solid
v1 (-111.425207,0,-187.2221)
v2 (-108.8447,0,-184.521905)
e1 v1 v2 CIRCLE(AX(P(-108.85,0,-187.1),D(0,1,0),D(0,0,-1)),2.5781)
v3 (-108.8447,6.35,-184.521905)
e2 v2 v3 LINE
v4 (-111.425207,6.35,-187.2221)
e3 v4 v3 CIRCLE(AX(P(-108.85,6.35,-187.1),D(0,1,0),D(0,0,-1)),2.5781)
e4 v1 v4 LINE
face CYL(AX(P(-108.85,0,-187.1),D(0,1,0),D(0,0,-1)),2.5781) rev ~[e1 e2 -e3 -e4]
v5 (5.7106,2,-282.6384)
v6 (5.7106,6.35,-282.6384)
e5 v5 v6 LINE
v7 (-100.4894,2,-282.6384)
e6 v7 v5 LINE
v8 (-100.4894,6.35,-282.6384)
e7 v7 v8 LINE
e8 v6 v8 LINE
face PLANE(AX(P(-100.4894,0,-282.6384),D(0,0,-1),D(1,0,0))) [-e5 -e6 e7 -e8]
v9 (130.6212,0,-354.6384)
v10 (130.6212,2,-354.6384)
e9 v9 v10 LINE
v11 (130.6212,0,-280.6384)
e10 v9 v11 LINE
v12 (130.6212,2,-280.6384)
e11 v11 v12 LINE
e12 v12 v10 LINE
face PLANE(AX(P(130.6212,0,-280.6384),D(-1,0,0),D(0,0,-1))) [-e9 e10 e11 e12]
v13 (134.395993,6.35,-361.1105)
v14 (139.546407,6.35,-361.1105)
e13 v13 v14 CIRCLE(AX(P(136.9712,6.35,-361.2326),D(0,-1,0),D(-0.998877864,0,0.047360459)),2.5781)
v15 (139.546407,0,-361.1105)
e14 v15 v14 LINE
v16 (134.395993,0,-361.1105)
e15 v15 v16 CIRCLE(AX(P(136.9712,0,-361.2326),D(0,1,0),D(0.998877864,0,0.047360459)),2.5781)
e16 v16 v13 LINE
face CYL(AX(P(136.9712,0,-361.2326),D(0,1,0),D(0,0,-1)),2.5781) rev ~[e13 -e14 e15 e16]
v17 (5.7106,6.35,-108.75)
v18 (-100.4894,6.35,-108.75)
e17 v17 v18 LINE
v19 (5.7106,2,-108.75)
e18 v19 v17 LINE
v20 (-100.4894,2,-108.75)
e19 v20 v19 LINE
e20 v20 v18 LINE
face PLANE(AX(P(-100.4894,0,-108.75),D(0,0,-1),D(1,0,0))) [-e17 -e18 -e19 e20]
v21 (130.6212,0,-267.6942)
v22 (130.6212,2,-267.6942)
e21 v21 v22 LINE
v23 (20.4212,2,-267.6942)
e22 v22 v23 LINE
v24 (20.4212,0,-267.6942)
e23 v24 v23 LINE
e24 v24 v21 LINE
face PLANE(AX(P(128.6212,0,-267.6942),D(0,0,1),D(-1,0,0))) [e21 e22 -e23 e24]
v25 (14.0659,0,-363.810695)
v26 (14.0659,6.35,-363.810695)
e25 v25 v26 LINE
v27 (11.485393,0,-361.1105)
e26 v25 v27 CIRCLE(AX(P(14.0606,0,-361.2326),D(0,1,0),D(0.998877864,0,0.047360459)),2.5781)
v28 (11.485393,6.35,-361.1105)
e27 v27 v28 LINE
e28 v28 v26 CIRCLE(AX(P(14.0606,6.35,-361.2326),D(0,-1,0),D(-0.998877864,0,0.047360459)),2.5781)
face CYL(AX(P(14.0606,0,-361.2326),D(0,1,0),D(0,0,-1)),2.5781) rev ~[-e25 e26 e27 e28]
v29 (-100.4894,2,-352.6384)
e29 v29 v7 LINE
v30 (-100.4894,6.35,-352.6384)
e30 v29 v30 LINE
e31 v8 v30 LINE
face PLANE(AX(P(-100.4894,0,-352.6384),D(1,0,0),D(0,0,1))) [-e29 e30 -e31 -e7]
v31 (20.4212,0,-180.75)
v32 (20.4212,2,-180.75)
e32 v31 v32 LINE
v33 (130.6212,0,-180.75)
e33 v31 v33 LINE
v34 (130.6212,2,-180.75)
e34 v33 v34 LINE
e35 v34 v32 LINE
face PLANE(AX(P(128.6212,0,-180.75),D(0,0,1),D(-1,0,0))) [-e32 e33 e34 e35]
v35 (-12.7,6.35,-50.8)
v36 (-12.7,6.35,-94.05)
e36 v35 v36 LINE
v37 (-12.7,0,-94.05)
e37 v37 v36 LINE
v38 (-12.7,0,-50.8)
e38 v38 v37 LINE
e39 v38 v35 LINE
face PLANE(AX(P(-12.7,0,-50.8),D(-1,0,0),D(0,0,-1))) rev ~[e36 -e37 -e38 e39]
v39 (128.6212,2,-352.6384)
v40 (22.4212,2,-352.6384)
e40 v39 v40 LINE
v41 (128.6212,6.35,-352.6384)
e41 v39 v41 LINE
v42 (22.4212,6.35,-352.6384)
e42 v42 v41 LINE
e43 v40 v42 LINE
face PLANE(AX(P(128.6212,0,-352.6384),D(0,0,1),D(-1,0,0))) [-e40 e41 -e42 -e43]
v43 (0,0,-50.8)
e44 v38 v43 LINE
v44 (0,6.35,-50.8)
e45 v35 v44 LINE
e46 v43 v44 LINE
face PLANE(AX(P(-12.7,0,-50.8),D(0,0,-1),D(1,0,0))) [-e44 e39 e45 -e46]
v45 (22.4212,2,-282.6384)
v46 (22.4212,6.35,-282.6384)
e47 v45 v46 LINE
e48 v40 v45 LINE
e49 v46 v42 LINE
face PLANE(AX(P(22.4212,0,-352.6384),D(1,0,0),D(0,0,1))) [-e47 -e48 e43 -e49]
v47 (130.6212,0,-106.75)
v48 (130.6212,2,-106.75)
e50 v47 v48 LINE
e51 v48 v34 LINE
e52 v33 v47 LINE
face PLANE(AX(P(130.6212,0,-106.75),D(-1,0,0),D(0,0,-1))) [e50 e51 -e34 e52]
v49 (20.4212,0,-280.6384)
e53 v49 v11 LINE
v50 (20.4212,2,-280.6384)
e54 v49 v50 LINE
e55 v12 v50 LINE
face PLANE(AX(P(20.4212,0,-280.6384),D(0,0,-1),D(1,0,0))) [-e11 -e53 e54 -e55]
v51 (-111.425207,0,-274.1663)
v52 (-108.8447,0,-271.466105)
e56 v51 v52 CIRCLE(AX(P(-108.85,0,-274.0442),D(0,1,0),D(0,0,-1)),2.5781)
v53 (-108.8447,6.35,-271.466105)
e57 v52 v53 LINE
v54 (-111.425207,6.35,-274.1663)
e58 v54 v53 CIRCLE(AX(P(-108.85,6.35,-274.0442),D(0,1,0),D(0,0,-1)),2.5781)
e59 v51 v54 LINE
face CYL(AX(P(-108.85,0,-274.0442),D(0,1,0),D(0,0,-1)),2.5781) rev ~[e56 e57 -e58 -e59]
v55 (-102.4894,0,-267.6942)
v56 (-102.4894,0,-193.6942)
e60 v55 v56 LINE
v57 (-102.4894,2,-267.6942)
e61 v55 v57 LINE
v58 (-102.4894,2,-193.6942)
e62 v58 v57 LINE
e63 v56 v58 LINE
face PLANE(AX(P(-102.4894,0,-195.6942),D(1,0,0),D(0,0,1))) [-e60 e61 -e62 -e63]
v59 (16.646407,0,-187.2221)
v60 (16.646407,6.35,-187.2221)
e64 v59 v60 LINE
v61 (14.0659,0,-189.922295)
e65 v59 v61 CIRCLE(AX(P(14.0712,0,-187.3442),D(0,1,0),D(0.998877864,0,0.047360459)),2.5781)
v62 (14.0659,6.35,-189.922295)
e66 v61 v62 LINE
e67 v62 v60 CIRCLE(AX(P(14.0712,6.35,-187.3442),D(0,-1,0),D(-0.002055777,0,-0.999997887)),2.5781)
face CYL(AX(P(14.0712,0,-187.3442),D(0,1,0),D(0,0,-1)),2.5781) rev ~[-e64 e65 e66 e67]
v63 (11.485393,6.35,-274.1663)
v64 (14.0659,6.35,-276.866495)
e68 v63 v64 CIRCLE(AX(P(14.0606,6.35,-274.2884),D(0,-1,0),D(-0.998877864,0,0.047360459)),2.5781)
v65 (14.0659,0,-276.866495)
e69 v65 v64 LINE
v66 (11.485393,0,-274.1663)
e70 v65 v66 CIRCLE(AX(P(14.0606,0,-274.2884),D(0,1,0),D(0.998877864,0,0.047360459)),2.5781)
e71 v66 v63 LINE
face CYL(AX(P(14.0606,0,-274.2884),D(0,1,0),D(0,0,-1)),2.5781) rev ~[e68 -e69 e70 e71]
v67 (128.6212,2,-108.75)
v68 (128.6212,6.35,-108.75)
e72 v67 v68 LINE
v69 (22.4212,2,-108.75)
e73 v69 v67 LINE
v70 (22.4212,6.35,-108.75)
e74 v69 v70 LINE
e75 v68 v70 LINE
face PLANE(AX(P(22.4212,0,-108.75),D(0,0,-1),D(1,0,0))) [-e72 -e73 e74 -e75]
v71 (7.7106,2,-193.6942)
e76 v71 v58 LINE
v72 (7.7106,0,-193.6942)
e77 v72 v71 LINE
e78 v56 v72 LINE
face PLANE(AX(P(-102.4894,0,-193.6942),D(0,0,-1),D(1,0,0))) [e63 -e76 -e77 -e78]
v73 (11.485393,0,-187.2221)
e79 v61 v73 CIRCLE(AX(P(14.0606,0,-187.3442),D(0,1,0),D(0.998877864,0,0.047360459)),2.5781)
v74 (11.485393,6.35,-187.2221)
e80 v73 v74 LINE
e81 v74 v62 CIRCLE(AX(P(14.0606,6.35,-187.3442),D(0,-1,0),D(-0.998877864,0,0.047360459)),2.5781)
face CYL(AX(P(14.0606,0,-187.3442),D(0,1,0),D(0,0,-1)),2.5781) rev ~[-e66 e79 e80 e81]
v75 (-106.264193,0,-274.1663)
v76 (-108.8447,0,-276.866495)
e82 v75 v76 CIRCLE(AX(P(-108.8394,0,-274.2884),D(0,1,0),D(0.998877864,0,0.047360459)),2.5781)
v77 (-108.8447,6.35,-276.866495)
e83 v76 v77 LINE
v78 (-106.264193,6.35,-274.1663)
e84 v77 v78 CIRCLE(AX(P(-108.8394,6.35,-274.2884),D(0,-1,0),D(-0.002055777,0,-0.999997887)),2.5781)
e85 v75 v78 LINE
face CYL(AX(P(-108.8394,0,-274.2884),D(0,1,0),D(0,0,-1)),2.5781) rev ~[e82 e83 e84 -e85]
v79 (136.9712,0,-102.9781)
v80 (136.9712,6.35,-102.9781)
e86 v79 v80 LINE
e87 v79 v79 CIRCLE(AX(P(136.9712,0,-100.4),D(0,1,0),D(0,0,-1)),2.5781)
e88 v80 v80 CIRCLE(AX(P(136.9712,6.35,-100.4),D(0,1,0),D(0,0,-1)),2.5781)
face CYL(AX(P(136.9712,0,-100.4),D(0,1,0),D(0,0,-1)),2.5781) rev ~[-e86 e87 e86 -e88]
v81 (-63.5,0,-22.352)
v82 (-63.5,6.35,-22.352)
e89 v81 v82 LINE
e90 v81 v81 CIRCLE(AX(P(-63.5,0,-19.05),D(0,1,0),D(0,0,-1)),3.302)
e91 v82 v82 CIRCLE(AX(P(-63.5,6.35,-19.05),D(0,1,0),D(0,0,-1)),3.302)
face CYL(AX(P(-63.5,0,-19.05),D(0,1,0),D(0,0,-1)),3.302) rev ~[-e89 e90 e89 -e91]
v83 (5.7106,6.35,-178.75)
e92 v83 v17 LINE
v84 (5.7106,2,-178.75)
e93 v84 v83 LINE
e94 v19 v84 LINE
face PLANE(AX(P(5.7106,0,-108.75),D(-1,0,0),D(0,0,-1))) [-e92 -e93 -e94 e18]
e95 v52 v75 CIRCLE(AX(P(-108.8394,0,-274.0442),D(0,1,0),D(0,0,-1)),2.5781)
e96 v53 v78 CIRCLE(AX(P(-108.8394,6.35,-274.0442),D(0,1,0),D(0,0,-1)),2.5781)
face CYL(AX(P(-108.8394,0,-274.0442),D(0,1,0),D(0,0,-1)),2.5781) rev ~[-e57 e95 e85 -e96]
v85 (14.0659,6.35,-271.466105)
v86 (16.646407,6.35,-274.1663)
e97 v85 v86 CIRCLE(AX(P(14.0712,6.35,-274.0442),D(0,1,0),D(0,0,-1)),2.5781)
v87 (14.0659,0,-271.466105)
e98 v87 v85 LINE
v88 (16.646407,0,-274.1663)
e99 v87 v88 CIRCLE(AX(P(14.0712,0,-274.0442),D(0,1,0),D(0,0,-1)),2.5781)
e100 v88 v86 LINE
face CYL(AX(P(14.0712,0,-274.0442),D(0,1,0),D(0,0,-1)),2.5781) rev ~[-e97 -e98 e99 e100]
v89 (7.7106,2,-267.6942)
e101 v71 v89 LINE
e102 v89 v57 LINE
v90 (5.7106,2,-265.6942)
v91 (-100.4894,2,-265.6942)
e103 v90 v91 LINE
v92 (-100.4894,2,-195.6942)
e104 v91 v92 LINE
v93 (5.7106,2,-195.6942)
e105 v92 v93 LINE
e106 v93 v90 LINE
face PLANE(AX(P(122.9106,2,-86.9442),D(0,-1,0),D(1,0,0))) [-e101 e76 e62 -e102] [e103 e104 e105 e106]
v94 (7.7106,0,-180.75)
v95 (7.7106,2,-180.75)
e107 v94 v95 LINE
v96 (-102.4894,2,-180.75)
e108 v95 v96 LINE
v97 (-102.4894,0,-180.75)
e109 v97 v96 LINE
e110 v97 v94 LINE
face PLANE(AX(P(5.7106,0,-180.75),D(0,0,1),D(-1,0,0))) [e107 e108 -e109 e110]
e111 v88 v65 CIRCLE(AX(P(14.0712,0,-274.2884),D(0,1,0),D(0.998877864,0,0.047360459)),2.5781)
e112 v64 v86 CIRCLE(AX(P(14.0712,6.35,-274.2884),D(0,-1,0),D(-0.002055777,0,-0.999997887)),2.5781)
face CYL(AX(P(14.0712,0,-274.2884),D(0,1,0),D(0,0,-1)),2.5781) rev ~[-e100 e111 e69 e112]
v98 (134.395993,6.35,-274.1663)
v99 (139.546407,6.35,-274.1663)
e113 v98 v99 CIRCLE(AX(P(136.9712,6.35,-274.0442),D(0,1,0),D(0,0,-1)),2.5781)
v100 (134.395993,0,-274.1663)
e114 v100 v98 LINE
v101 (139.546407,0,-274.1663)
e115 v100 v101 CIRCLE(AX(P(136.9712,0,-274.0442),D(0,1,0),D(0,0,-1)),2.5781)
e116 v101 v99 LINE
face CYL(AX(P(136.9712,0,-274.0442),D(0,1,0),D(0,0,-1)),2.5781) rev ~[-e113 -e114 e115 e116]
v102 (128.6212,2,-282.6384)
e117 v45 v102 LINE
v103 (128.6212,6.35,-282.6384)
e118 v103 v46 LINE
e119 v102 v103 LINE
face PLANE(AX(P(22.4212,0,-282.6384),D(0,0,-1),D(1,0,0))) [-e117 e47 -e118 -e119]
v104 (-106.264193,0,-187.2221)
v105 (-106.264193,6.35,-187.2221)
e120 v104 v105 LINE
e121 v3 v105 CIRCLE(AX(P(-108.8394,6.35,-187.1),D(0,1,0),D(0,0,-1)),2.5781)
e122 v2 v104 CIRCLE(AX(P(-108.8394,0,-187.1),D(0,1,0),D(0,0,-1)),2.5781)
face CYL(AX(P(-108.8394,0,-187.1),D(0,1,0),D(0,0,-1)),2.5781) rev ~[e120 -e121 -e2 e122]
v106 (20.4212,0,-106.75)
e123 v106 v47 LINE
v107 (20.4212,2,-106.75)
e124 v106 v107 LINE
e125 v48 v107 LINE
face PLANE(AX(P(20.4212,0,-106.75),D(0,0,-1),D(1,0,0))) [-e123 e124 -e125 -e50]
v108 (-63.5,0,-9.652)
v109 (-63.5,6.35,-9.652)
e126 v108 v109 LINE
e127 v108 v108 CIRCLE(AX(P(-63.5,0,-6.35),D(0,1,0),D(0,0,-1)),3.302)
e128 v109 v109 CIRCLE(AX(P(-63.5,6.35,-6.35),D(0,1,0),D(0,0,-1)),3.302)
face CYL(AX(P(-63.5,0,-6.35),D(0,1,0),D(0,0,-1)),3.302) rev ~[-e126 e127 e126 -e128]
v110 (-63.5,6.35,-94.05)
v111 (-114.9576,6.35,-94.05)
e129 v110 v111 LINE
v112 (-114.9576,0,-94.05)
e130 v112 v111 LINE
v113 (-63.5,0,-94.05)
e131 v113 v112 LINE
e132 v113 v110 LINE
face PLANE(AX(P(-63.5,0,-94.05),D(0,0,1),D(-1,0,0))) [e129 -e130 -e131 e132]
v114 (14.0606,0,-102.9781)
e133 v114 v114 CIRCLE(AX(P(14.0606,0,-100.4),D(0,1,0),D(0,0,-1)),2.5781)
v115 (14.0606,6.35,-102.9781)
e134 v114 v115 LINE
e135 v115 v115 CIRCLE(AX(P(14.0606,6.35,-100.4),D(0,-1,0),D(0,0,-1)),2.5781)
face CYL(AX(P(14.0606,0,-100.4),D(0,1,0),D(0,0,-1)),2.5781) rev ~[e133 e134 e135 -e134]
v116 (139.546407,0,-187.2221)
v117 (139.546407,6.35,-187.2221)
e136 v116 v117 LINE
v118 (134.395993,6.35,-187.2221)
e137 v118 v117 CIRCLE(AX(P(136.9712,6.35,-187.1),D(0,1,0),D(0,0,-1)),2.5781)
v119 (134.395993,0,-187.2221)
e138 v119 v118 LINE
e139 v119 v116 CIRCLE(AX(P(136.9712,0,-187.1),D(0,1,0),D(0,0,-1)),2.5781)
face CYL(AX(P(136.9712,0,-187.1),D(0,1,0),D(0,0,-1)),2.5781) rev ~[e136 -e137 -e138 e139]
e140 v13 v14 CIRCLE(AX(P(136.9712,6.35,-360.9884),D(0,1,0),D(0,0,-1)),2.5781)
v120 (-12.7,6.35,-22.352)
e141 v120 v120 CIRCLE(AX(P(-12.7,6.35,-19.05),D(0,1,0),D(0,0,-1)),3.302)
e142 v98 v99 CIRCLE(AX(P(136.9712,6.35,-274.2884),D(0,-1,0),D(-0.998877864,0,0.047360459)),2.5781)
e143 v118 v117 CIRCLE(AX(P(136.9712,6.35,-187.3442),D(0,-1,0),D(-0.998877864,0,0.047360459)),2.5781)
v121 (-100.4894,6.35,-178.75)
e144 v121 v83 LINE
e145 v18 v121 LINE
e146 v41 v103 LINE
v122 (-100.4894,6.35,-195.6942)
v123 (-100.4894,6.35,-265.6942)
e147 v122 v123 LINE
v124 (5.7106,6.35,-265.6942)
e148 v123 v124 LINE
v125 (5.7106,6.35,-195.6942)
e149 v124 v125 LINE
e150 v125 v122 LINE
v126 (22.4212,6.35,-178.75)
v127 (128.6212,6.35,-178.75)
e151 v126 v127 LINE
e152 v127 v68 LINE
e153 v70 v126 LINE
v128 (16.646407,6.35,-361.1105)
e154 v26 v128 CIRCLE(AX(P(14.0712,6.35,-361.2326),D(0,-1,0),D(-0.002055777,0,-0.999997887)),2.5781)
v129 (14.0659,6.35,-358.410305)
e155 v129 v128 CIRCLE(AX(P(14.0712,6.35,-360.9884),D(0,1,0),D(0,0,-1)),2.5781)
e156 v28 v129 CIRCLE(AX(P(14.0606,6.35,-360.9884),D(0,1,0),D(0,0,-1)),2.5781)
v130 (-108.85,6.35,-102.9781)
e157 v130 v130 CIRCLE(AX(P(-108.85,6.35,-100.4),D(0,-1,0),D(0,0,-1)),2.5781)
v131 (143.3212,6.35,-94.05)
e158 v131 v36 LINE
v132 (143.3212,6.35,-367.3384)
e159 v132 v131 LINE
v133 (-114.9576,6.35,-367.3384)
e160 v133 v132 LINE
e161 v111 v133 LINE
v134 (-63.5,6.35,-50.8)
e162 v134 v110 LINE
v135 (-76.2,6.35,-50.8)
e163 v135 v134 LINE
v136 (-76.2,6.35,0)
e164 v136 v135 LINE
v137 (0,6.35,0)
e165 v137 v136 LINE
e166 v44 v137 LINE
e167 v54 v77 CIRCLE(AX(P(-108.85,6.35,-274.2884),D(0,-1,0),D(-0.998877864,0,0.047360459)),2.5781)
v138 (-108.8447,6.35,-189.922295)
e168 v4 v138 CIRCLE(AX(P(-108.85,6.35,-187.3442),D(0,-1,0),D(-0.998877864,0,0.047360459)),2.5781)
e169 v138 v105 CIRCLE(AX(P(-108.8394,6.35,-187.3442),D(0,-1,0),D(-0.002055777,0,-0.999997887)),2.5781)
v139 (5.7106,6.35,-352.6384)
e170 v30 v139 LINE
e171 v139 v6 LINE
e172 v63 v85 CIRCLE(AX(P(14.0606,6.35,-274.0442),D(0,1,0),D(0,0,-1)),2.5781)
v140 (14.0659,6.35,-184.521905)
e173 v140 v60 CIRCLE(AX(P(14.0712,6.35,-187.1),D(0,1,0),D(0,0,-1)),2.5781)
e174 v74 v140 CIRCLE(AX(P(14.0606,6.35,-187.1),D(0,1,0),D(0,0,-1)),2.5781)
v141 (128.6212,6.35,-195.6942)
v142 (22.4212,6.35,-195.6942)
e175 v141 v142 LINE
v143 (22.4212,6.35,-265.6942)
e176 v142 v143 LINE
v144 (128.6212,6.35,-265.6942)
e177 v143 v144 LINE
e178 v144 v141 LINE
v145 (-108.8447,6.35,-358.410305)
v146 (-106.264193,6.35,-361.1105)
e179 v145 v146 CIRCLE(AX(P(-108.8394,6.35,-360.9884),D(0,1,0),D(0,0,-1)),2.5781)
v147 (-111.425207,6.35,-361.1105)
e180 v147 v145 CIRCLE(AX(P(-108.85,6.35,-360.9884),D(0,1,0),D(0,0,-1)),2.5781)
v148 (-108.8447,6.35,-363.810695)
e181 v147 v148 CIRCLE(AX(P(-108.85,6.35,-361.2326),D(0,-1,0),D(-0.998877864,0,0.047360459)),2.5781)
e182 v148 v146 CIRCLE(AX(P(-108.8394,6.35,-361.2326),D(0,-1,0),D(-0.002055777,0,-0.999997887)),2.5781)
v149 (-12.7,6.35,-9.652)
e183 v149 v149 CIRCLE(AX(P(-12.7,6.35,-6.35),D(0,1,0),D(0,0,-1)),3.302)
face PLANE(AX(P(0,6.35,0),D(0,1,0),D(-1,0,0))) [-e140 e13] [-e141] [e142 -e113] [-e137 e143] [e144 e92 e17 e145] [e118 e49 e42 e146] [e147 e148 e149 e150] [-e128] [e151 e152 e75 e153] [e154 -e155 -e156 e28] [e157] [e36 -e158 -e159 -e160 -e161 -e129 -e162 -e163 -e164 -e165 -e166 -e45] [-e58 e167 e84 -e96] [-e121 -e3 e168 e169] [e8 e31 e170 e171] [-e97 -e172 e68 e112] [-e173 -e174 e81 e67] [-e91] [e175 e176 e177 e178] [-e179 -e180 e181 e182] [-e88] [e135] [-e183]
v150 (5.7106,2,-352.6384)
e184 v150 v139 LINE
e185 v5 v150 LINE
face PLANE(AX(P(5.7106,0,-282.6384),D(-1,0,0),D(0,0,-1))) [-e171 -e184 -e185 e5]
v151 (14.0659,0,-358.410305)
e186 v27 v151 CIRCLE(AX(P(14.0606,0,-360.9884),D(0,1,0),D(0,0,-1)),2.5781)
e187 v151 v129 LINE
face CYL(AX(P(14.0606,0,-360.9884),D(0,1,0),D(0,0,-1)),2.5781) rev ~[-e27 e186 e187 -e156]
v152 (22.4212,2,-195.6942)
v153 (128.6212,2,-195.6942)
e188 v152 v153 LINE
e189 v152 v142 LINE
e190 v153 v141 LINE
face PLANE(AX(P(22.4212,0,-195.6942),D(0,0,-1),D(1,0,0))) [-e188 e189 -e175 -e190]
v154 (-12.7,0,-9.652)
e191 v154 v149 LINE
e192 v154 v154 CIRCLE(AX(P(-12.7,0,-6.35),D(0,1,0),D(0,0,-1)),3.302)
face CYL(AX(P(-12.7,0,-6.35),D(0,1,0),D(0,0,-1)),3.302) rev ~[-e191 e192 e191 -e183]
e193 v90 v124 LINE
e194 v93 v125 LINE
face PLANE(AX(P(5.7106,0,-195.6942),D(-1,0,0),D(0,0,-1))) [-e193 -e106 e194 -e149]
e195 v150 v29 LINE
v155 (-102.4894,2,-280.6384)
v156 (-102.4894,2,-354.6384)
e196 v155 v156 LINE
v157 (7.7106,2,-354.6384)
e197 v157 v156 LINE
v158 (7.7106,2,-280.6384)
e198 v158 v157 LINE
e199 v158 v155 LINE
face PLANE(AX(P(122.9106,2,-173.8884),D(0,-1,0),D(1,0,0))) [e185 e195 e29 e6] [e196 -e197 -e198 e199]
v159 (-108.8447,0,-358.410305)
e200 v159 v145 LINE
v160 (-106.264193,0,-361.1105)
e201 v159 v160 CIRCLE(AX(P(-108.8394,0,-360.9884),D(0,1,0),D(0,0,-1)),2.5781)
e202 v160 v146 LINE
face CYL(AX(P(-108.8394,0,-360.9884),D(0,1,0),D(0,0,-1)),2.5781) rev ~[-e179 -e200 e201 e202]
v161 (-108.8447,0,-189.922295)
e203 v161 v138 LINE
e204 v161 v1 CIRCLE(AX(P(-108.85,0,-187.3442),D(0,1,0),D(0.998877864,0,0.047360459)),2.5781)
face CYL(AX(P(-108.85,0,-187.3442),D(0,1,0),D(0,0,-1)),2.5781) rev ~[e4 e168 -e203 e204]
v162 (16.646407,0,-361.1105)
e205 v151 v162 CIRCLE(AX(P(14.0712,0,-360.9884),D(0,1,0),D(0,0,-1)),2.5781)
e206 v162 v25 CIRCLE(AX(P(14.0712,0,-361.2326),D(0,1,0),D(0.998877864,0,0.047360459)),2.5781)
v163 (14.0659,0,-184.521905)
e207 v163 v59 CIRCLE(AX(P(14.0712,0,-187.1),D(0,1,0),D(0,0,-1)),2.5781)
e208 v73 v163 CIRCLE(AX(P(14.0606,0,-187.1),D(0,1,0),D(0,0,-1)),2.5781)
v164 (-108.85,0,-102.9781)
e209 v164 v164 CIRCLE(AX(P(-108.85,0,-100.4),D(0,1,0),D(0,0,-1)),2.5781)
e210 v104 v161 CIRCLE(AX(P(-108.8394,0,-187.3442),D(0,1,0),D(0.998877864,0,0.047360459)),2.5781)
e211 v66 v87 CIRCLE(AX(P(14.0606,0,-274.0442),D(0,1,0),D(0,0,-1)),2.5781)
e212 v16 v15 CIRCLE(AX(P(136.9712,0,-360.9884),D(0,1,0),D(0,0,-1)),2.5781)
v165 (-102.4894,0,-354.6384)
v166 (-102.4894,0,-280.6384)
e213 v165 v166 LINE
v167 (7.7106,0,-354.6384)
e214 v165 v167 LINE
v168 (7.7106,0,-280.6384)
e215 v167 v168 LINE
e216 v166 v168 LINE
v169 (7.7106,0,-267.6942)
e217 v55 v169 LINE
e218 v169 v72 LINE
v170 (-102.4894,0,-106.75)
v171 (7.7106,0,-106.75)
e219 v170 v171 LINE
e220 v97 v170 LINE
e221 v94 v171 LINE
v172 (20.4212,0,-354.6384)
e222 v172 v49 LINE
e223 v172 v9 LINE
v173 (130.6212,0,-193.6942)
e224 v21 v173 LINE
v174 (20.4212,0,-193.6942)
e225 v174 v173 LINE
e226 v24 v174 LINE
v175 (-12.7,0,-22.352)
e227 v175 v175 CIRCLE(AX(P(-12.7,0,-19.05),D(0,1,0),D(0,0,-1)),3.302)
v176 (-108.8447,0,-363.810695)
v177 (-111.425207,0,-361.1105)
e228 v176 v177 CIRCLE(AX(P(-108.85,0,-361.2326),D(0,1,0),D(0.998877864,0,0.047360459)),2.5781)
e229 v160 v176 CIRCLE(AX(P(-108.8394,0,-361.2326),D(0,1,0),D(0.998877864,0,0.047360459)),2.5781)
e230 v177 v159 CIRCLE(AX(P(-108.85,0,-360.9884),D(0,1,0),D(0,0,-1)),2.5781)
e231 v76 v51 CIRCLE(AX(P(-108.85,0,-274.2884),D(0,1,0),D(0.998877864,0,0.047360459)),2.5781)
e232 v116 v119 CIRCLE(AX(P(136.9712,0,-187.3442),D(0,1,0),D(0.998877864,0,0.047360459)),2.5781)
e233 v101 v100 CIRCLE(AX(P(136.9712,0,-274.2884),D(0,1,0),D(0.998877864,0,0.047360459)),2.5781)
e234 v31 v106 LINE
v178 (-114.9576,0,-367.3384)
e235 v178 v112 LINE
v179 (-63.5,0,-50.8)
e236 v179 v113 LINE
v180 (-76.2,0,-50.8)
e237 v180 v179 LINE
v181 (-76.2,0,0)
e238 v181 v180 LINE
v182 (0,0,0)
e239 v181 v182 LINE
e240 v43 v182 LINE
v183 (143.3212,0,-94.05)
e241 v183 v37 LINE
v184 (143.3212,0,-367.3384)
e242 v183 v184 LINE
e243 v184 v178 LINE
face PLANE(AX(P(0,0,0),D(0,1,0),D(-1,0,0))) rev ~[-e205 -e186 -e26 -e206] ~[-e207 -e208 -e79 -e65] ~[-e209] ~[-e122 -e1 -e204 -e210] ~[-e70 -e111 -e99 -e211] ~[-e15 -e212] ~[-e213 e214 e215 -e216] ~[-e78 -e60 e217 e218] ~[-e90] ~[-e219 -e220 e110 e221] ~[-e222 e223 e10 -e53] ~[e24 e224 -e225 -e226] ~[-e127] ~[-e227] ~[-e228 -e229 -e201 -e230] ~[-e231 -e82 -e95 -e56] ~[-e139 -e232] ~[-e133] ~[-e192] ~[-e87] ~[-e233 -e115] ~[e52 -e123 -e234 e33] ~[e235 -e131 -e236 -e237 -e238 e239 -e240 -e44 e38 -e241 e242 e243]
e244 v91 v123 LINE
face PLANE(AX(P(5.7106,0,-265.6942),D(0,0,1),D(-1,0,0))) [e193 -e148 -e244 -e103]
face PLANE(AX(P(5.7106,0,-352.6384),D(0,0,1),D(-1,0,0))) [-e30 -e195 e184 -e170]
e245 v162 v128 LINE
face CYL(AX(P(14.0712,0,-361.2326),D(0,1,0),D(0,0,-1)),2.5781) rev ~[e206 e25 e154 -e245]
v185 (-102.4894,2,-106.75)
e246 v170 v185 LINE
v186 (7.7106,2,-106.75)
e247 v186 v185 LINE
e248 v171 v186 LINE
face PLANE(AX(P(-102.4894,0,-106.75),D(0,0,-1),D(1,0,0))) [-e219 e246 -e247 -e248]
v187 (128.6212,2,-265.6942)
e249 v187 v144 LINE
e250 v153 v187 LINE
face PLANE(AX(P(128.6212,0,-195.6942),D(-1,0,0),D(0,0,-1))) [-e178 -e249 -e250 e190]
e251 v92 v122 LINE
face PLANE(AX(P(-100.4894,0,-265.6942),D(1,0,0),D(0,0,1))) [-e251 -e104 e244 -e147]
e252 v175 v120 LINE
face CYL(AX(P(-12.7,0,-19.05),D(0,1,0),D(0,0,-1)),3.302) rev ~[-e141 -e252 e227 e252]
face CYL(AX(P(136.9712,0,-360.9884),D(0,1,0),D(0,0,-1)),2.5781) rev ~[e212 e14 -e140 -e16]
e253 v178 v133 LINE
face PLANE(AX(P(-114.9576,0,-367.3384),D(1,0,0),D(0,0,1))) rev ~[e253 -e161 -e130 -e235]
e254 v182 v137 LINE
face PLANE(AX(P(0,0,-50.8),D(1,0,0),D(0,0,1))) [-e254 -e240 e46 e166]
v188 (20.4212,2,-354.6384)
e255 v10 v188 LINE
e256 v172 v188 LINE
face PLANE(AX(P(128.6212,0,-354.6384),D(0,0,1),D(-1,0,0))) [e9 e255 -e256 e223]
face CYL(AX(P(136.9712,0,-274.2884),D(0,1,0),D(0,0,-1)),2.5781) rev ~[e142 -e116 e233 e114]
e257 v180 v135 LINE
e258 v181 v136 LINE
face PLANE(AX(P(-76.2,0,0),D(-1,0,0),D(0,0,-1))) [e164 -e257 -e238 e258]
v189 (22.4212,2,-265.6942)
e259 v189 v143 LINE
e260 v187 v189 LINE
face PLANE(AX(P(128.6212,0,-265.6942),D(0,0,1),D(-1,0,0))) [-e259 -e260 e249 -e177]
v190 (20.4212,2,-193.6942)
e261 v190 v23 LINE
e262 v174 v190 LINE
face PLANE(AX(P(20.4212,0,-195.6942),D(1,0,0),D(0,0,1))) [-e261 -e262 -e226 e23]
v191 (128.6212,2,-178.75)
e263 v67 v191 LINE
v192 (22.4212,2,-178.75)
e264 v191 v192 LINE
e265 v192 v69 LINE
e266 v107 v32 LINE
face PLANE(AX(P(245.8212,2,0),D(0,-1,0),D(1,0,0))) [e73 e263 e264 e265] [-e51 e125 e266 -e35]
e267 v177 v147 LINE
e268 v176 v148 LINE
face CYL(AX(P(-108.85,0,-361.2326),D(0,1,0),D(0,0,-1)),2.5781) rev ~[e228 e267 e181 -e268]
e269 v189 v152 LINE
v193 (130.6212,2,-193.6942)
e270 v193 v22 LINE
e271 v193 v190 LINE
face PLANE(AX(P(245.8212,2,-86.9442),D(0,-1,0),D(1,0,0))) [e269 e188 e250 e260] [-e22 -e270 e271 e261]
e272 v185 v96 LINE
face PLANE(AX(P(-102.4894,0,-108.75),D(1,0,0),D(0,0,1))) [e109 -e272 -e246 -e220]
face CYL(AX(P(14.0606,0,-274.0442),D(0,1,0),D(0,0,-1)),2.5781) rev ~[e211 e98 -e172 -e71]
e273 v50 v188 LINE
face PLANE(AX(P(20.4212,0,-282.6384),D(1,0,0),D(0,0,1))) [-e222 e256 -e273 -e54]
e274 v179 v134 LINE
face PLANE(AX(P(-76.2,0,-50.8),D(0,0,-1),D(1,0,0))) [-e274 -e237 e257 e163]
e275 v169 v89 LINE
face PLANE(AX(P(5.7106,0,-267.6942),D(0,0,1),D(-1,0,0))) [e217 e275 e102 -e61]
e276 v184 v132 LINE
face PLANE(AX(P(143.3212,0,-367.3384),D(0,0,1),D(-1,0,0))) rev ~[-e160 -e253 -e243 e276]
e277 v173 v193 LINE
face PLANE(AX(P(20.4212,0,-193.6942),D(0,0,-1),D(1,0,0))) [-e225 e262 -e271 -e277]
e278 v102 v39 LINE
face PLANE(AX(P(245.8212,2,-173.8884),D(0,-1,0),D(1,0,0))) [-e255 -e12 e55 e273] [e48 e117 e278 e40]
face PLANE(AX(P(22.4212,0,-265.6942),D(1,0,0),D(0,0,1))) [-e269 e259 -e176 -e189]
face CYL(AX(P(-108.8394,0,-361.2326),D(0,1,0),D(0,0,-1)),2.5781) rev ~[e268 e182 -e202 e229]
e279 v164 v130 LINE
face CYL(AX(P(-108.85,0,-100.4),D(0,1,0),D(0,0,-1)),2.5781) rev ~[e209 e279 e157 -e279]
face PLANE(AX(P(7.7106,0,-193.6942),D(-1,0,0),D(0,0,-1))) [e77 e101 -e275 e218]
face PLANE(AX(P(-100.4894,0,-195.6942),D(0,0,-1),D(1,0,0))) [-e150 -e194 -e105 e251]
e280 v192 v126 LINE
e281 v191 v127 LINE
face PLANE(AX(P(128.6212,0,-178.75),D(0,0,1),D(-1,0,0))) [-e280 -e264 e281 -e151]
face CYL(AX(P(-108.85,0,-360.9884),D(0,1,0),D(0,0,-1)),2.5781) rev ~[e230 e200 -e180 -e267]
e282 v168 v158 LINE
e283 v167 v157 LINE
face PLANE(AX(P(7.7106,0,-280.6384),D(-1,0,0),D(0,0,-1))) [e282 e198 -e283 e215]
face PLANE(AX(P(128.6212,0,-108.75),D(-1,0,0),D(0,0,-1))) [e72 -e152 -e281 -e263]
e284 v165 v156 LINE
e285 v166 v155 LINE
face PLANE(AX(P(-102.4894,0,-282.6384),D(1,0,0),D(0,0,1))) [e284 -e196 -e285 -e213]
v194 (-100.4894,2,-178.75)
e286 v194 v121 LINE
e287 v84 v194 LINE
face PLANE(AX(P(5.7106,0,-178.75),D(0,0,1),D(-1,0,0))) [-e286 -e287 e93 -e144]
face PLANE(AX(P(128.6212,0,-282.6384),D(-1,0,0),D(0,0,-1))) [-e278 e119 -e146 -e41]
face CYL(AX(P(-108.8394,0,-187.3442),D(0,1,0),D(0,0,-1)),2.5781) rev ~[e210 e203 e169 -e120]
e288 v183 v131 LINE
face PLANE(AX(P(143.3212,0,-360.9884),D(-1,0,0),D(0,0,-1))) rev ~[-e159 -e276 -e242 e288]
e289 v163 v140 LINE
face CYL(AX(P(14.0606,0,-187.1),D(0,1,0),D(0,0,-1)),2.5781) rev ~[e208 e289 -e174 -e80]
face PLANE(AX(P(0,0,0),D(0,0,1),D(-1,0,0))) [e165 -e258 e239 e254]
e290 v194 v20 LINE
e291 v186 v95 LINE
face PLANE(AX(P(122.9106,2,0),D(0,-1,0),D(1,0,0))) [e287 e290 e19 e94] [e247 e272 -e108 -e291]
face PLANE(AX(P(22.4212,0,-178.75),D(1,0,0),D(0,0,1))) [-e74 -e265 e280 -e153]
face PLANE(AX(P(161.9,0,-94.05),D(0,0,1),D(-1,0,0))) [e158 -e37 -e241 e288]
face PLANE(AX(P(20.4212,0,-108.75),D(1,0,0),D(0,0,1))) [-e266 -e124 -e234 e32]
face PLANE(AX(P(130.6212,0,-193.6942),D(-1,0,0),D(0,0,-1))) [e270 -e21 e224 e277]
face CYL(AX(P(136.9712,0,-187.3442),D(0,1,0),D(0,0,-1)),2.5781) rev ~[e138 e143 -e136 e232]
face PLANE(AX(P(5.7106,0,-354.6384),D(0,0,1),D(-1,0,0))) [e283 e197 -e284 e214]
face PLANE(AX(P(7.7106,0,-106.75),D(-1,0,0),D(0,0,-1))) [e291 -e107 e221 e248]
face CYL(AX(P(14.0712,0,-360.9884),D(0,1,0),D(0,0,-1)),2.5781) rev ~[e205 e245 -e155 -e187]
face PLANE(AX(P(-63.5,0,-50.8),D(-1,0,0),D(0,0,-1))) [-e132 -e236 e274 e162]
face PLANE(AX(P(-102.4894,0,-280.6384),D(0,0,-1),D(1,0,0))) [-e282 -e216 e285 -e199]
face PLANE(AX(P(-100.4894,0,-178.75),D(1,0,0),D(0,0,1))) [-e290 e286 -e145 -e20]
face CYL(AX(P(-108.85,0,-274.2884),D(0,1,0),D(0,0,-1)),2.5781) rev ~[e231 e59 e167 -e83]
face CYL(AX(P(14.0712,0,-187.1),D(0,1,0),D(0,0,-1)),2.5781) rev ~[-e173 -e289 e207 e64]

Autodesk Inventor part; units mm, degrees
ref_plane "YZ Plane" through (0, 0, 0) normal (1, 0, 0) x (0, 1, 0)
ref_plane "XZ Plane" through (0, 0, 0) normal (0, 1, 0) x (-1, 0, 0)
ref_plane "XY Plane" through (0, 0, 0) normal (0, 0, 1) x (1, 0, 0)
sketch "Sketch1" plane through (0, 0, 0) normal (0, 1, 0) x (-1, 0, 0)
  line L0 (0, 0) -> (76.2, 0)
  line L1 (76.2, 0) -> (76.2, -50.8)
  line L2 (76.2, -50.8) -> (0, -50.8)
  line L3 (0, -50.8) -> (0, 0)
  line L4 (38.1, 0) -> (38.1, -6.35)
  line L5 (38.1, -6.35) -> (12.7, -6.35)
  line L6 (38.1, -6.35) -> (63.5, -6.35)
  line L7 (38.1, -6.35) -> (63.5, -6.35) construction
  line L8 (63.5, -6.35) -> (63.5, -19.05)
  line L9 (12.7, -6.35) -> (12.7, -19.05)
  line L10 (63.5, -19.05) -> (63.5, -25.4)
  line L11 (12.7, -19.05) -> (12.7, -25.4)
  line L12 (63.5, -19.05) -> (63.5, -94.05)
  line L13 (63.5, -19.05) -> (138.5, -19.05) construction
  line L14 (12.7, -19.05) -> (12.7, -94.05)
  line L15 (63.5, -94.05) -> (38.1, -94.05)
  line L16 (38.1, -94.05) -> (38.1, -294.05)
  line L17 (38.1, -94.05) -> (238.1, -94.05) construction
  line L18 (238.1, -494.05) -> (-161.9, -494.05)
  line L19 (-161.9, -494.05) -> (-161.9, -94.05)
  line L20 (-161.9, -94.05) -> (238.1, -94.05)
  line L21 (238.1, -94.05) -> (238.1, -494.05)
  line L22 (238.1, -494.05) -> (-161.9, -94.05) construction
  line L23 (-161.9, -494.05) -> (238.1, -94.05) construction
  point P0 (63.5, -50.8)
  point P1 (12.7, -50.8)
  dimension "d0" = 76.2
  dimension "d1" = 50.8
  dimension "d2" = 6.35
  dimension "d3" = 25.4
  dimension "d4" = 25.4
  dimension "d5" = 0
  dimension "d6" = 12.7
  dimension "d7" = 12.7
  dimension "d8" = 6.35
  dimension "d9" = 6.35
  dimension "d10" = 75
  dimension "d11" = 90
  dimension "d12" = 75
  dimension "d13" = 25.4
  dimension "d14" = 200
  dimension "d15" = 90
  dimension "d16" = 400
  dimension "d17" = 400
extrude "Extrusion1" add sketch "Sketch1" along normal blind 6.35
hole "Hole1" at (-12.7, 0, -6.35) at (-12.7, 0, -19.05) at (-63.5, 0, -6.35) at (-63.5, 0, -19.05) direction (0, 1, 0) diameter 6.604 end through all
sketch "Sketch2" plane through (0, 0, 0) normal (0, -1, 0) x (1, 0, 0)
  line L0 (-238.1, -94.05) -> (-63.5, -94.05) projected
  line L1 (-238.1, -94.05) -> (-238.1, -100.4)
  line L2 (-238.1, -94.05) -> (-231.75, -94.05) construction
  line L3 (-238.1, -100.4) -> (-231.75, -100.4)
  line L4 (-231.75, -100.4) -> (-225.4, -100.4)
  line L5 (-225.4, -100.4) -> (-225.4, -106.75)
  line L6 (-225.4, -106.75) -> (-115.2, -106.75)
  line L7 (-115.2, -106.75) -> (-115.2, -180.75)
  line L8 (-115.2, -180.75) -> (-225.4, -180.75)
  line L9 (-225.4, -180.75) -> (-225.4, -106.75)
  line L10 (-115.2, -106.75) -> (-115.2, -100.4)
  line L11 (-115.2, -100.4) -> (-108.85, -100.4)
  line L12 (-225.4, -180.75) -> (-231.75, -180.75)
  line L13 (-231.75, -180.75) -> (-231.75, -187.1)
  line L14 (-115.2, -180.75) -> (-115.2, -187.1)
  line L15 (-115.2, -187.1) -> (-108.85, -187.1)
  line L16 (-225.4, -106.75) -> (-225.4, -114.75)
  line L17 (-225.4, -106.75) -> (-217.4, -106.75) construction
  line L18 (-225.4, -106.75) -> (-223.4, -106.75)
  line L19 (-223.4, -106.75) -> (-223.4, -108.75)
  line L20 (-223.4, -108.75) -> (-225.4, -108.75)
  line L21 (-225.4, -108.75) -> (-225.4, -106.75)
  line L22 (-115.2, -180.75) -> (-117.2, -180.75)
  line L23 (-117.2, -180.75) -> (-117.2, -178.75)
  line L24 (-117.2, -178.75) -> (-115.2, -178.75)
  line L25 (-115.2, -178.75) -> (-115.2, -180.75)
  line L26 (-223.4, -108.75) -> (-117.2, -108.75)
  line L27 (-117.2, -108.75) -> (-117.2, -178.75)
  line L28 (-117.2, -178.75) -> (-223.4, -178.75)
  line L29 (-223.4, -178.75) -> (-223.4, -108.75)
  point P0 (0, 0)
  dimension "d27" = 6.35
  dimension "d28" = 90
  dimension "d29" = 6.35
  dimension "d30" = 6.35
  dimension "d31" = 6.35
  dimension "d32" = 110.2
  dimension "d33" = 74
  dimension "d34" = 6.35
  dimension "d35" = 6.35
  dimension "d36" = 6.35
  dimension "d37" = 6.35
  dimension "d38" = 6.35
  dimension "d39" = 8
  dimension "d40" = 90
  dimension "d41" = 2
  dimension "d42" = 2
  dimension "d43" = 2
  dimension "d44" = 2
extrude "Extrusion2" cut sketch "Sketch2" against normal through all contours L26 L27 L28 L29
hole "Hole2" at (-231.75, 0, -100.4) at (-231.75, 0, -187.1) at (-108.85, 0, -100.4) at (-108.85, 0, -187.1) direction (0, 1, 0) diameter 5.1562 end through all
extrude "Extrusion3" cut sketch "Sketch2" against normal blind 2 contours L6 L19 L20 L9 | L6 L7 L24 L27 L26 L19 | L20 L29 L28 L23 L8 L9 | L7 L8 L23 L24
pattern_linear "Rectangular Pattern1" count 3 spacing 122.9106 along (1, 0, 0) count 4 spacing 86.9442 along (0, 0, -1) of "Extrusion2", "Hole2", "Extrusion3"
sketch "Sketch3" plane through (0, 0, 0) normal (0, -1, 0) x (1, 0, 0)
  circle A0 centre (136.9712, -447.9326) radius 2.5781 projected
  line L0 (136.9712, -447.9326) -> (143.3212, -447.9326)
  line L1 (143.3212, -447.9326) -> (143.3212, -454.2826)
  line L2 (143.3212, -454.2826) -> (136.9712, -454.2826)
  line L3 (136.9712, -454.2826) -> (136.9712, -447.9326)
  line L4 (-12.7, -94.05) -> (161.9, -94.05) projected
  line L5 (143.3212, -454.2826) -> (161.9, -454.2826)
  line L6 (161.9, -454.2826) -> (161.9, -94.05)
  line L7 (161.9, -94.05) -> (143.3212, -94.05)
  line L8 (143.3212, -94.05) -> (143.3212, -454.2826)
  line L9 (161.9, -454.2826) -> (-238.1, -454.2826)
  line L10 (-238.1, -454.2826) -> (-238.1, -500.3541)
  line L11 (-238.1, -500.3541) -> (161.9, -500.3541)
  line L12 (161.9, -500.3541) -> (161.9, -454.2826)
  arc A1 (-229.1748, -274.1663) -> (-234.3252, -274.1663) centre (-231.75, -274.0442) ccw projected
  line L13 (-238.1, -494.05) -> (-238.1, -94.05) projected
  line L14 (-231.75, -274.0442) -> (-238.1, -274.0442)
  line L15 (-238.1, -274.0442) -> (-238.1, -280.3942)
  line L16 (-238.1, -280.3942) -> (-231.75, -280.3942)
  line L17 (-231.75, -280.3942) -> (-231.75, -274.0442)
  circle A2 centre (136.9712, -447.9326) radius 2.5781 projected
  line L18 (-238.1, -280.3942) -> (136.9712, -280.3942)
  line L19 (136.9712, -280.3942) -> (136.9712, -447.9326)
  line L20 (136.9712, -447.9326) -> (-238.1, -447.9326)
  line L21 (-238.1, -447.9326) -> (-238.1, -280.3942)
  line L22 (-238.1, -280.3942) -> (161.9, -280.3942)
  line L23 (161.9, -280.3942) -> (161.9, -454.2826)
  line L24 (161.9, -454.2826) -> (-238.1, -454.2826)
  line L25 (-238.1, -454.2826) -> (-238.1, -280.3942)
  line L26 (-238.1, -94.05) -> (-63.5, -94.05) projected
  line L27 (-114.9576, -94.05) -> (-238.1, -94.05)
  line L28 (-238.1, -94.05) -> (-238.1, -500.3541)
  line L29 (-238.1, -500.3541) -> (-114.9576, -500.3541)
  line L30 (-114.9576, -500.3541) -> (-114.9576, -94.05)
  arc A3 (139.5464, -361.1105) -> (134.396, -361.1105) centre (136.9712, -360.9884) ccw projected
  line L31 (136.9712, -360.9884) -> (143.3212, -360.9884)
  line L32 (143.3212, -360.9884) -> (143.3212, -367.3384)
  line L33 (143.3212, -367.3384) -> (136.9712, -367.3384)
  line L34 (136.9712, -367.3384) -> (136.9712, -360.9884)
  line L35 (143.3212, -367.3384) -> (-238.1, -367.3384)
  line L36 (-238.1, -367.3384) -> (-238.1, -500.3541)
  line L37 (-238.1, -500.3541) -> (143.3212, -500.3541)
  line L38 (143.3212, -500.3541) -> (143.3212, -367.3384)
  point P0 (0, 0)
  point P1 (136.9712, -450.5107)
  point P2 (134.3931, -447.9326)
  point P3 (136.9712, -445.3545)
  point P4 (139.5493, -447.9326)
  point P5 (161.9, -280.3942)
  point P6 (143.3212, -280.3942)
  point P7 (-114.9576, -454.2826)
  point P8 (-114.9576, -367.3384)
  point P9 (-114.9576, -280.3942)
  point P10 (136.9712, -358.4103)
  point P11 (139.5493, -360.9884)
  dimension "d62" = 6.35
  dimension "d63" = 6.35
  dimension "d66" = 6.35
extrude "Extrusion4" cut sketch "Sketch3" against normal through all contours L0 L1 L2 L3 A0 | A0 L3 L0 | A0 L19 L33 L8 L0 | A0 L20 L30 L35 L19 | L3 L9 L30 L20 A0 | L8 L22 L6 L5 L1 | L2 L38 L11 L30 L9 | L5 L12 L11 L38 | L30 L9 L13 L20 | L20 L13 L35 L30 | L35 L13 L16 L18 L30 | L30 L11 L10 L9 | L18 L17 L14 L13 L26 L30 | L22 L8 L4 L6 | L16 L13 L14 L17
properties part number "WellPlateFrame-ShrunkFor3L"
